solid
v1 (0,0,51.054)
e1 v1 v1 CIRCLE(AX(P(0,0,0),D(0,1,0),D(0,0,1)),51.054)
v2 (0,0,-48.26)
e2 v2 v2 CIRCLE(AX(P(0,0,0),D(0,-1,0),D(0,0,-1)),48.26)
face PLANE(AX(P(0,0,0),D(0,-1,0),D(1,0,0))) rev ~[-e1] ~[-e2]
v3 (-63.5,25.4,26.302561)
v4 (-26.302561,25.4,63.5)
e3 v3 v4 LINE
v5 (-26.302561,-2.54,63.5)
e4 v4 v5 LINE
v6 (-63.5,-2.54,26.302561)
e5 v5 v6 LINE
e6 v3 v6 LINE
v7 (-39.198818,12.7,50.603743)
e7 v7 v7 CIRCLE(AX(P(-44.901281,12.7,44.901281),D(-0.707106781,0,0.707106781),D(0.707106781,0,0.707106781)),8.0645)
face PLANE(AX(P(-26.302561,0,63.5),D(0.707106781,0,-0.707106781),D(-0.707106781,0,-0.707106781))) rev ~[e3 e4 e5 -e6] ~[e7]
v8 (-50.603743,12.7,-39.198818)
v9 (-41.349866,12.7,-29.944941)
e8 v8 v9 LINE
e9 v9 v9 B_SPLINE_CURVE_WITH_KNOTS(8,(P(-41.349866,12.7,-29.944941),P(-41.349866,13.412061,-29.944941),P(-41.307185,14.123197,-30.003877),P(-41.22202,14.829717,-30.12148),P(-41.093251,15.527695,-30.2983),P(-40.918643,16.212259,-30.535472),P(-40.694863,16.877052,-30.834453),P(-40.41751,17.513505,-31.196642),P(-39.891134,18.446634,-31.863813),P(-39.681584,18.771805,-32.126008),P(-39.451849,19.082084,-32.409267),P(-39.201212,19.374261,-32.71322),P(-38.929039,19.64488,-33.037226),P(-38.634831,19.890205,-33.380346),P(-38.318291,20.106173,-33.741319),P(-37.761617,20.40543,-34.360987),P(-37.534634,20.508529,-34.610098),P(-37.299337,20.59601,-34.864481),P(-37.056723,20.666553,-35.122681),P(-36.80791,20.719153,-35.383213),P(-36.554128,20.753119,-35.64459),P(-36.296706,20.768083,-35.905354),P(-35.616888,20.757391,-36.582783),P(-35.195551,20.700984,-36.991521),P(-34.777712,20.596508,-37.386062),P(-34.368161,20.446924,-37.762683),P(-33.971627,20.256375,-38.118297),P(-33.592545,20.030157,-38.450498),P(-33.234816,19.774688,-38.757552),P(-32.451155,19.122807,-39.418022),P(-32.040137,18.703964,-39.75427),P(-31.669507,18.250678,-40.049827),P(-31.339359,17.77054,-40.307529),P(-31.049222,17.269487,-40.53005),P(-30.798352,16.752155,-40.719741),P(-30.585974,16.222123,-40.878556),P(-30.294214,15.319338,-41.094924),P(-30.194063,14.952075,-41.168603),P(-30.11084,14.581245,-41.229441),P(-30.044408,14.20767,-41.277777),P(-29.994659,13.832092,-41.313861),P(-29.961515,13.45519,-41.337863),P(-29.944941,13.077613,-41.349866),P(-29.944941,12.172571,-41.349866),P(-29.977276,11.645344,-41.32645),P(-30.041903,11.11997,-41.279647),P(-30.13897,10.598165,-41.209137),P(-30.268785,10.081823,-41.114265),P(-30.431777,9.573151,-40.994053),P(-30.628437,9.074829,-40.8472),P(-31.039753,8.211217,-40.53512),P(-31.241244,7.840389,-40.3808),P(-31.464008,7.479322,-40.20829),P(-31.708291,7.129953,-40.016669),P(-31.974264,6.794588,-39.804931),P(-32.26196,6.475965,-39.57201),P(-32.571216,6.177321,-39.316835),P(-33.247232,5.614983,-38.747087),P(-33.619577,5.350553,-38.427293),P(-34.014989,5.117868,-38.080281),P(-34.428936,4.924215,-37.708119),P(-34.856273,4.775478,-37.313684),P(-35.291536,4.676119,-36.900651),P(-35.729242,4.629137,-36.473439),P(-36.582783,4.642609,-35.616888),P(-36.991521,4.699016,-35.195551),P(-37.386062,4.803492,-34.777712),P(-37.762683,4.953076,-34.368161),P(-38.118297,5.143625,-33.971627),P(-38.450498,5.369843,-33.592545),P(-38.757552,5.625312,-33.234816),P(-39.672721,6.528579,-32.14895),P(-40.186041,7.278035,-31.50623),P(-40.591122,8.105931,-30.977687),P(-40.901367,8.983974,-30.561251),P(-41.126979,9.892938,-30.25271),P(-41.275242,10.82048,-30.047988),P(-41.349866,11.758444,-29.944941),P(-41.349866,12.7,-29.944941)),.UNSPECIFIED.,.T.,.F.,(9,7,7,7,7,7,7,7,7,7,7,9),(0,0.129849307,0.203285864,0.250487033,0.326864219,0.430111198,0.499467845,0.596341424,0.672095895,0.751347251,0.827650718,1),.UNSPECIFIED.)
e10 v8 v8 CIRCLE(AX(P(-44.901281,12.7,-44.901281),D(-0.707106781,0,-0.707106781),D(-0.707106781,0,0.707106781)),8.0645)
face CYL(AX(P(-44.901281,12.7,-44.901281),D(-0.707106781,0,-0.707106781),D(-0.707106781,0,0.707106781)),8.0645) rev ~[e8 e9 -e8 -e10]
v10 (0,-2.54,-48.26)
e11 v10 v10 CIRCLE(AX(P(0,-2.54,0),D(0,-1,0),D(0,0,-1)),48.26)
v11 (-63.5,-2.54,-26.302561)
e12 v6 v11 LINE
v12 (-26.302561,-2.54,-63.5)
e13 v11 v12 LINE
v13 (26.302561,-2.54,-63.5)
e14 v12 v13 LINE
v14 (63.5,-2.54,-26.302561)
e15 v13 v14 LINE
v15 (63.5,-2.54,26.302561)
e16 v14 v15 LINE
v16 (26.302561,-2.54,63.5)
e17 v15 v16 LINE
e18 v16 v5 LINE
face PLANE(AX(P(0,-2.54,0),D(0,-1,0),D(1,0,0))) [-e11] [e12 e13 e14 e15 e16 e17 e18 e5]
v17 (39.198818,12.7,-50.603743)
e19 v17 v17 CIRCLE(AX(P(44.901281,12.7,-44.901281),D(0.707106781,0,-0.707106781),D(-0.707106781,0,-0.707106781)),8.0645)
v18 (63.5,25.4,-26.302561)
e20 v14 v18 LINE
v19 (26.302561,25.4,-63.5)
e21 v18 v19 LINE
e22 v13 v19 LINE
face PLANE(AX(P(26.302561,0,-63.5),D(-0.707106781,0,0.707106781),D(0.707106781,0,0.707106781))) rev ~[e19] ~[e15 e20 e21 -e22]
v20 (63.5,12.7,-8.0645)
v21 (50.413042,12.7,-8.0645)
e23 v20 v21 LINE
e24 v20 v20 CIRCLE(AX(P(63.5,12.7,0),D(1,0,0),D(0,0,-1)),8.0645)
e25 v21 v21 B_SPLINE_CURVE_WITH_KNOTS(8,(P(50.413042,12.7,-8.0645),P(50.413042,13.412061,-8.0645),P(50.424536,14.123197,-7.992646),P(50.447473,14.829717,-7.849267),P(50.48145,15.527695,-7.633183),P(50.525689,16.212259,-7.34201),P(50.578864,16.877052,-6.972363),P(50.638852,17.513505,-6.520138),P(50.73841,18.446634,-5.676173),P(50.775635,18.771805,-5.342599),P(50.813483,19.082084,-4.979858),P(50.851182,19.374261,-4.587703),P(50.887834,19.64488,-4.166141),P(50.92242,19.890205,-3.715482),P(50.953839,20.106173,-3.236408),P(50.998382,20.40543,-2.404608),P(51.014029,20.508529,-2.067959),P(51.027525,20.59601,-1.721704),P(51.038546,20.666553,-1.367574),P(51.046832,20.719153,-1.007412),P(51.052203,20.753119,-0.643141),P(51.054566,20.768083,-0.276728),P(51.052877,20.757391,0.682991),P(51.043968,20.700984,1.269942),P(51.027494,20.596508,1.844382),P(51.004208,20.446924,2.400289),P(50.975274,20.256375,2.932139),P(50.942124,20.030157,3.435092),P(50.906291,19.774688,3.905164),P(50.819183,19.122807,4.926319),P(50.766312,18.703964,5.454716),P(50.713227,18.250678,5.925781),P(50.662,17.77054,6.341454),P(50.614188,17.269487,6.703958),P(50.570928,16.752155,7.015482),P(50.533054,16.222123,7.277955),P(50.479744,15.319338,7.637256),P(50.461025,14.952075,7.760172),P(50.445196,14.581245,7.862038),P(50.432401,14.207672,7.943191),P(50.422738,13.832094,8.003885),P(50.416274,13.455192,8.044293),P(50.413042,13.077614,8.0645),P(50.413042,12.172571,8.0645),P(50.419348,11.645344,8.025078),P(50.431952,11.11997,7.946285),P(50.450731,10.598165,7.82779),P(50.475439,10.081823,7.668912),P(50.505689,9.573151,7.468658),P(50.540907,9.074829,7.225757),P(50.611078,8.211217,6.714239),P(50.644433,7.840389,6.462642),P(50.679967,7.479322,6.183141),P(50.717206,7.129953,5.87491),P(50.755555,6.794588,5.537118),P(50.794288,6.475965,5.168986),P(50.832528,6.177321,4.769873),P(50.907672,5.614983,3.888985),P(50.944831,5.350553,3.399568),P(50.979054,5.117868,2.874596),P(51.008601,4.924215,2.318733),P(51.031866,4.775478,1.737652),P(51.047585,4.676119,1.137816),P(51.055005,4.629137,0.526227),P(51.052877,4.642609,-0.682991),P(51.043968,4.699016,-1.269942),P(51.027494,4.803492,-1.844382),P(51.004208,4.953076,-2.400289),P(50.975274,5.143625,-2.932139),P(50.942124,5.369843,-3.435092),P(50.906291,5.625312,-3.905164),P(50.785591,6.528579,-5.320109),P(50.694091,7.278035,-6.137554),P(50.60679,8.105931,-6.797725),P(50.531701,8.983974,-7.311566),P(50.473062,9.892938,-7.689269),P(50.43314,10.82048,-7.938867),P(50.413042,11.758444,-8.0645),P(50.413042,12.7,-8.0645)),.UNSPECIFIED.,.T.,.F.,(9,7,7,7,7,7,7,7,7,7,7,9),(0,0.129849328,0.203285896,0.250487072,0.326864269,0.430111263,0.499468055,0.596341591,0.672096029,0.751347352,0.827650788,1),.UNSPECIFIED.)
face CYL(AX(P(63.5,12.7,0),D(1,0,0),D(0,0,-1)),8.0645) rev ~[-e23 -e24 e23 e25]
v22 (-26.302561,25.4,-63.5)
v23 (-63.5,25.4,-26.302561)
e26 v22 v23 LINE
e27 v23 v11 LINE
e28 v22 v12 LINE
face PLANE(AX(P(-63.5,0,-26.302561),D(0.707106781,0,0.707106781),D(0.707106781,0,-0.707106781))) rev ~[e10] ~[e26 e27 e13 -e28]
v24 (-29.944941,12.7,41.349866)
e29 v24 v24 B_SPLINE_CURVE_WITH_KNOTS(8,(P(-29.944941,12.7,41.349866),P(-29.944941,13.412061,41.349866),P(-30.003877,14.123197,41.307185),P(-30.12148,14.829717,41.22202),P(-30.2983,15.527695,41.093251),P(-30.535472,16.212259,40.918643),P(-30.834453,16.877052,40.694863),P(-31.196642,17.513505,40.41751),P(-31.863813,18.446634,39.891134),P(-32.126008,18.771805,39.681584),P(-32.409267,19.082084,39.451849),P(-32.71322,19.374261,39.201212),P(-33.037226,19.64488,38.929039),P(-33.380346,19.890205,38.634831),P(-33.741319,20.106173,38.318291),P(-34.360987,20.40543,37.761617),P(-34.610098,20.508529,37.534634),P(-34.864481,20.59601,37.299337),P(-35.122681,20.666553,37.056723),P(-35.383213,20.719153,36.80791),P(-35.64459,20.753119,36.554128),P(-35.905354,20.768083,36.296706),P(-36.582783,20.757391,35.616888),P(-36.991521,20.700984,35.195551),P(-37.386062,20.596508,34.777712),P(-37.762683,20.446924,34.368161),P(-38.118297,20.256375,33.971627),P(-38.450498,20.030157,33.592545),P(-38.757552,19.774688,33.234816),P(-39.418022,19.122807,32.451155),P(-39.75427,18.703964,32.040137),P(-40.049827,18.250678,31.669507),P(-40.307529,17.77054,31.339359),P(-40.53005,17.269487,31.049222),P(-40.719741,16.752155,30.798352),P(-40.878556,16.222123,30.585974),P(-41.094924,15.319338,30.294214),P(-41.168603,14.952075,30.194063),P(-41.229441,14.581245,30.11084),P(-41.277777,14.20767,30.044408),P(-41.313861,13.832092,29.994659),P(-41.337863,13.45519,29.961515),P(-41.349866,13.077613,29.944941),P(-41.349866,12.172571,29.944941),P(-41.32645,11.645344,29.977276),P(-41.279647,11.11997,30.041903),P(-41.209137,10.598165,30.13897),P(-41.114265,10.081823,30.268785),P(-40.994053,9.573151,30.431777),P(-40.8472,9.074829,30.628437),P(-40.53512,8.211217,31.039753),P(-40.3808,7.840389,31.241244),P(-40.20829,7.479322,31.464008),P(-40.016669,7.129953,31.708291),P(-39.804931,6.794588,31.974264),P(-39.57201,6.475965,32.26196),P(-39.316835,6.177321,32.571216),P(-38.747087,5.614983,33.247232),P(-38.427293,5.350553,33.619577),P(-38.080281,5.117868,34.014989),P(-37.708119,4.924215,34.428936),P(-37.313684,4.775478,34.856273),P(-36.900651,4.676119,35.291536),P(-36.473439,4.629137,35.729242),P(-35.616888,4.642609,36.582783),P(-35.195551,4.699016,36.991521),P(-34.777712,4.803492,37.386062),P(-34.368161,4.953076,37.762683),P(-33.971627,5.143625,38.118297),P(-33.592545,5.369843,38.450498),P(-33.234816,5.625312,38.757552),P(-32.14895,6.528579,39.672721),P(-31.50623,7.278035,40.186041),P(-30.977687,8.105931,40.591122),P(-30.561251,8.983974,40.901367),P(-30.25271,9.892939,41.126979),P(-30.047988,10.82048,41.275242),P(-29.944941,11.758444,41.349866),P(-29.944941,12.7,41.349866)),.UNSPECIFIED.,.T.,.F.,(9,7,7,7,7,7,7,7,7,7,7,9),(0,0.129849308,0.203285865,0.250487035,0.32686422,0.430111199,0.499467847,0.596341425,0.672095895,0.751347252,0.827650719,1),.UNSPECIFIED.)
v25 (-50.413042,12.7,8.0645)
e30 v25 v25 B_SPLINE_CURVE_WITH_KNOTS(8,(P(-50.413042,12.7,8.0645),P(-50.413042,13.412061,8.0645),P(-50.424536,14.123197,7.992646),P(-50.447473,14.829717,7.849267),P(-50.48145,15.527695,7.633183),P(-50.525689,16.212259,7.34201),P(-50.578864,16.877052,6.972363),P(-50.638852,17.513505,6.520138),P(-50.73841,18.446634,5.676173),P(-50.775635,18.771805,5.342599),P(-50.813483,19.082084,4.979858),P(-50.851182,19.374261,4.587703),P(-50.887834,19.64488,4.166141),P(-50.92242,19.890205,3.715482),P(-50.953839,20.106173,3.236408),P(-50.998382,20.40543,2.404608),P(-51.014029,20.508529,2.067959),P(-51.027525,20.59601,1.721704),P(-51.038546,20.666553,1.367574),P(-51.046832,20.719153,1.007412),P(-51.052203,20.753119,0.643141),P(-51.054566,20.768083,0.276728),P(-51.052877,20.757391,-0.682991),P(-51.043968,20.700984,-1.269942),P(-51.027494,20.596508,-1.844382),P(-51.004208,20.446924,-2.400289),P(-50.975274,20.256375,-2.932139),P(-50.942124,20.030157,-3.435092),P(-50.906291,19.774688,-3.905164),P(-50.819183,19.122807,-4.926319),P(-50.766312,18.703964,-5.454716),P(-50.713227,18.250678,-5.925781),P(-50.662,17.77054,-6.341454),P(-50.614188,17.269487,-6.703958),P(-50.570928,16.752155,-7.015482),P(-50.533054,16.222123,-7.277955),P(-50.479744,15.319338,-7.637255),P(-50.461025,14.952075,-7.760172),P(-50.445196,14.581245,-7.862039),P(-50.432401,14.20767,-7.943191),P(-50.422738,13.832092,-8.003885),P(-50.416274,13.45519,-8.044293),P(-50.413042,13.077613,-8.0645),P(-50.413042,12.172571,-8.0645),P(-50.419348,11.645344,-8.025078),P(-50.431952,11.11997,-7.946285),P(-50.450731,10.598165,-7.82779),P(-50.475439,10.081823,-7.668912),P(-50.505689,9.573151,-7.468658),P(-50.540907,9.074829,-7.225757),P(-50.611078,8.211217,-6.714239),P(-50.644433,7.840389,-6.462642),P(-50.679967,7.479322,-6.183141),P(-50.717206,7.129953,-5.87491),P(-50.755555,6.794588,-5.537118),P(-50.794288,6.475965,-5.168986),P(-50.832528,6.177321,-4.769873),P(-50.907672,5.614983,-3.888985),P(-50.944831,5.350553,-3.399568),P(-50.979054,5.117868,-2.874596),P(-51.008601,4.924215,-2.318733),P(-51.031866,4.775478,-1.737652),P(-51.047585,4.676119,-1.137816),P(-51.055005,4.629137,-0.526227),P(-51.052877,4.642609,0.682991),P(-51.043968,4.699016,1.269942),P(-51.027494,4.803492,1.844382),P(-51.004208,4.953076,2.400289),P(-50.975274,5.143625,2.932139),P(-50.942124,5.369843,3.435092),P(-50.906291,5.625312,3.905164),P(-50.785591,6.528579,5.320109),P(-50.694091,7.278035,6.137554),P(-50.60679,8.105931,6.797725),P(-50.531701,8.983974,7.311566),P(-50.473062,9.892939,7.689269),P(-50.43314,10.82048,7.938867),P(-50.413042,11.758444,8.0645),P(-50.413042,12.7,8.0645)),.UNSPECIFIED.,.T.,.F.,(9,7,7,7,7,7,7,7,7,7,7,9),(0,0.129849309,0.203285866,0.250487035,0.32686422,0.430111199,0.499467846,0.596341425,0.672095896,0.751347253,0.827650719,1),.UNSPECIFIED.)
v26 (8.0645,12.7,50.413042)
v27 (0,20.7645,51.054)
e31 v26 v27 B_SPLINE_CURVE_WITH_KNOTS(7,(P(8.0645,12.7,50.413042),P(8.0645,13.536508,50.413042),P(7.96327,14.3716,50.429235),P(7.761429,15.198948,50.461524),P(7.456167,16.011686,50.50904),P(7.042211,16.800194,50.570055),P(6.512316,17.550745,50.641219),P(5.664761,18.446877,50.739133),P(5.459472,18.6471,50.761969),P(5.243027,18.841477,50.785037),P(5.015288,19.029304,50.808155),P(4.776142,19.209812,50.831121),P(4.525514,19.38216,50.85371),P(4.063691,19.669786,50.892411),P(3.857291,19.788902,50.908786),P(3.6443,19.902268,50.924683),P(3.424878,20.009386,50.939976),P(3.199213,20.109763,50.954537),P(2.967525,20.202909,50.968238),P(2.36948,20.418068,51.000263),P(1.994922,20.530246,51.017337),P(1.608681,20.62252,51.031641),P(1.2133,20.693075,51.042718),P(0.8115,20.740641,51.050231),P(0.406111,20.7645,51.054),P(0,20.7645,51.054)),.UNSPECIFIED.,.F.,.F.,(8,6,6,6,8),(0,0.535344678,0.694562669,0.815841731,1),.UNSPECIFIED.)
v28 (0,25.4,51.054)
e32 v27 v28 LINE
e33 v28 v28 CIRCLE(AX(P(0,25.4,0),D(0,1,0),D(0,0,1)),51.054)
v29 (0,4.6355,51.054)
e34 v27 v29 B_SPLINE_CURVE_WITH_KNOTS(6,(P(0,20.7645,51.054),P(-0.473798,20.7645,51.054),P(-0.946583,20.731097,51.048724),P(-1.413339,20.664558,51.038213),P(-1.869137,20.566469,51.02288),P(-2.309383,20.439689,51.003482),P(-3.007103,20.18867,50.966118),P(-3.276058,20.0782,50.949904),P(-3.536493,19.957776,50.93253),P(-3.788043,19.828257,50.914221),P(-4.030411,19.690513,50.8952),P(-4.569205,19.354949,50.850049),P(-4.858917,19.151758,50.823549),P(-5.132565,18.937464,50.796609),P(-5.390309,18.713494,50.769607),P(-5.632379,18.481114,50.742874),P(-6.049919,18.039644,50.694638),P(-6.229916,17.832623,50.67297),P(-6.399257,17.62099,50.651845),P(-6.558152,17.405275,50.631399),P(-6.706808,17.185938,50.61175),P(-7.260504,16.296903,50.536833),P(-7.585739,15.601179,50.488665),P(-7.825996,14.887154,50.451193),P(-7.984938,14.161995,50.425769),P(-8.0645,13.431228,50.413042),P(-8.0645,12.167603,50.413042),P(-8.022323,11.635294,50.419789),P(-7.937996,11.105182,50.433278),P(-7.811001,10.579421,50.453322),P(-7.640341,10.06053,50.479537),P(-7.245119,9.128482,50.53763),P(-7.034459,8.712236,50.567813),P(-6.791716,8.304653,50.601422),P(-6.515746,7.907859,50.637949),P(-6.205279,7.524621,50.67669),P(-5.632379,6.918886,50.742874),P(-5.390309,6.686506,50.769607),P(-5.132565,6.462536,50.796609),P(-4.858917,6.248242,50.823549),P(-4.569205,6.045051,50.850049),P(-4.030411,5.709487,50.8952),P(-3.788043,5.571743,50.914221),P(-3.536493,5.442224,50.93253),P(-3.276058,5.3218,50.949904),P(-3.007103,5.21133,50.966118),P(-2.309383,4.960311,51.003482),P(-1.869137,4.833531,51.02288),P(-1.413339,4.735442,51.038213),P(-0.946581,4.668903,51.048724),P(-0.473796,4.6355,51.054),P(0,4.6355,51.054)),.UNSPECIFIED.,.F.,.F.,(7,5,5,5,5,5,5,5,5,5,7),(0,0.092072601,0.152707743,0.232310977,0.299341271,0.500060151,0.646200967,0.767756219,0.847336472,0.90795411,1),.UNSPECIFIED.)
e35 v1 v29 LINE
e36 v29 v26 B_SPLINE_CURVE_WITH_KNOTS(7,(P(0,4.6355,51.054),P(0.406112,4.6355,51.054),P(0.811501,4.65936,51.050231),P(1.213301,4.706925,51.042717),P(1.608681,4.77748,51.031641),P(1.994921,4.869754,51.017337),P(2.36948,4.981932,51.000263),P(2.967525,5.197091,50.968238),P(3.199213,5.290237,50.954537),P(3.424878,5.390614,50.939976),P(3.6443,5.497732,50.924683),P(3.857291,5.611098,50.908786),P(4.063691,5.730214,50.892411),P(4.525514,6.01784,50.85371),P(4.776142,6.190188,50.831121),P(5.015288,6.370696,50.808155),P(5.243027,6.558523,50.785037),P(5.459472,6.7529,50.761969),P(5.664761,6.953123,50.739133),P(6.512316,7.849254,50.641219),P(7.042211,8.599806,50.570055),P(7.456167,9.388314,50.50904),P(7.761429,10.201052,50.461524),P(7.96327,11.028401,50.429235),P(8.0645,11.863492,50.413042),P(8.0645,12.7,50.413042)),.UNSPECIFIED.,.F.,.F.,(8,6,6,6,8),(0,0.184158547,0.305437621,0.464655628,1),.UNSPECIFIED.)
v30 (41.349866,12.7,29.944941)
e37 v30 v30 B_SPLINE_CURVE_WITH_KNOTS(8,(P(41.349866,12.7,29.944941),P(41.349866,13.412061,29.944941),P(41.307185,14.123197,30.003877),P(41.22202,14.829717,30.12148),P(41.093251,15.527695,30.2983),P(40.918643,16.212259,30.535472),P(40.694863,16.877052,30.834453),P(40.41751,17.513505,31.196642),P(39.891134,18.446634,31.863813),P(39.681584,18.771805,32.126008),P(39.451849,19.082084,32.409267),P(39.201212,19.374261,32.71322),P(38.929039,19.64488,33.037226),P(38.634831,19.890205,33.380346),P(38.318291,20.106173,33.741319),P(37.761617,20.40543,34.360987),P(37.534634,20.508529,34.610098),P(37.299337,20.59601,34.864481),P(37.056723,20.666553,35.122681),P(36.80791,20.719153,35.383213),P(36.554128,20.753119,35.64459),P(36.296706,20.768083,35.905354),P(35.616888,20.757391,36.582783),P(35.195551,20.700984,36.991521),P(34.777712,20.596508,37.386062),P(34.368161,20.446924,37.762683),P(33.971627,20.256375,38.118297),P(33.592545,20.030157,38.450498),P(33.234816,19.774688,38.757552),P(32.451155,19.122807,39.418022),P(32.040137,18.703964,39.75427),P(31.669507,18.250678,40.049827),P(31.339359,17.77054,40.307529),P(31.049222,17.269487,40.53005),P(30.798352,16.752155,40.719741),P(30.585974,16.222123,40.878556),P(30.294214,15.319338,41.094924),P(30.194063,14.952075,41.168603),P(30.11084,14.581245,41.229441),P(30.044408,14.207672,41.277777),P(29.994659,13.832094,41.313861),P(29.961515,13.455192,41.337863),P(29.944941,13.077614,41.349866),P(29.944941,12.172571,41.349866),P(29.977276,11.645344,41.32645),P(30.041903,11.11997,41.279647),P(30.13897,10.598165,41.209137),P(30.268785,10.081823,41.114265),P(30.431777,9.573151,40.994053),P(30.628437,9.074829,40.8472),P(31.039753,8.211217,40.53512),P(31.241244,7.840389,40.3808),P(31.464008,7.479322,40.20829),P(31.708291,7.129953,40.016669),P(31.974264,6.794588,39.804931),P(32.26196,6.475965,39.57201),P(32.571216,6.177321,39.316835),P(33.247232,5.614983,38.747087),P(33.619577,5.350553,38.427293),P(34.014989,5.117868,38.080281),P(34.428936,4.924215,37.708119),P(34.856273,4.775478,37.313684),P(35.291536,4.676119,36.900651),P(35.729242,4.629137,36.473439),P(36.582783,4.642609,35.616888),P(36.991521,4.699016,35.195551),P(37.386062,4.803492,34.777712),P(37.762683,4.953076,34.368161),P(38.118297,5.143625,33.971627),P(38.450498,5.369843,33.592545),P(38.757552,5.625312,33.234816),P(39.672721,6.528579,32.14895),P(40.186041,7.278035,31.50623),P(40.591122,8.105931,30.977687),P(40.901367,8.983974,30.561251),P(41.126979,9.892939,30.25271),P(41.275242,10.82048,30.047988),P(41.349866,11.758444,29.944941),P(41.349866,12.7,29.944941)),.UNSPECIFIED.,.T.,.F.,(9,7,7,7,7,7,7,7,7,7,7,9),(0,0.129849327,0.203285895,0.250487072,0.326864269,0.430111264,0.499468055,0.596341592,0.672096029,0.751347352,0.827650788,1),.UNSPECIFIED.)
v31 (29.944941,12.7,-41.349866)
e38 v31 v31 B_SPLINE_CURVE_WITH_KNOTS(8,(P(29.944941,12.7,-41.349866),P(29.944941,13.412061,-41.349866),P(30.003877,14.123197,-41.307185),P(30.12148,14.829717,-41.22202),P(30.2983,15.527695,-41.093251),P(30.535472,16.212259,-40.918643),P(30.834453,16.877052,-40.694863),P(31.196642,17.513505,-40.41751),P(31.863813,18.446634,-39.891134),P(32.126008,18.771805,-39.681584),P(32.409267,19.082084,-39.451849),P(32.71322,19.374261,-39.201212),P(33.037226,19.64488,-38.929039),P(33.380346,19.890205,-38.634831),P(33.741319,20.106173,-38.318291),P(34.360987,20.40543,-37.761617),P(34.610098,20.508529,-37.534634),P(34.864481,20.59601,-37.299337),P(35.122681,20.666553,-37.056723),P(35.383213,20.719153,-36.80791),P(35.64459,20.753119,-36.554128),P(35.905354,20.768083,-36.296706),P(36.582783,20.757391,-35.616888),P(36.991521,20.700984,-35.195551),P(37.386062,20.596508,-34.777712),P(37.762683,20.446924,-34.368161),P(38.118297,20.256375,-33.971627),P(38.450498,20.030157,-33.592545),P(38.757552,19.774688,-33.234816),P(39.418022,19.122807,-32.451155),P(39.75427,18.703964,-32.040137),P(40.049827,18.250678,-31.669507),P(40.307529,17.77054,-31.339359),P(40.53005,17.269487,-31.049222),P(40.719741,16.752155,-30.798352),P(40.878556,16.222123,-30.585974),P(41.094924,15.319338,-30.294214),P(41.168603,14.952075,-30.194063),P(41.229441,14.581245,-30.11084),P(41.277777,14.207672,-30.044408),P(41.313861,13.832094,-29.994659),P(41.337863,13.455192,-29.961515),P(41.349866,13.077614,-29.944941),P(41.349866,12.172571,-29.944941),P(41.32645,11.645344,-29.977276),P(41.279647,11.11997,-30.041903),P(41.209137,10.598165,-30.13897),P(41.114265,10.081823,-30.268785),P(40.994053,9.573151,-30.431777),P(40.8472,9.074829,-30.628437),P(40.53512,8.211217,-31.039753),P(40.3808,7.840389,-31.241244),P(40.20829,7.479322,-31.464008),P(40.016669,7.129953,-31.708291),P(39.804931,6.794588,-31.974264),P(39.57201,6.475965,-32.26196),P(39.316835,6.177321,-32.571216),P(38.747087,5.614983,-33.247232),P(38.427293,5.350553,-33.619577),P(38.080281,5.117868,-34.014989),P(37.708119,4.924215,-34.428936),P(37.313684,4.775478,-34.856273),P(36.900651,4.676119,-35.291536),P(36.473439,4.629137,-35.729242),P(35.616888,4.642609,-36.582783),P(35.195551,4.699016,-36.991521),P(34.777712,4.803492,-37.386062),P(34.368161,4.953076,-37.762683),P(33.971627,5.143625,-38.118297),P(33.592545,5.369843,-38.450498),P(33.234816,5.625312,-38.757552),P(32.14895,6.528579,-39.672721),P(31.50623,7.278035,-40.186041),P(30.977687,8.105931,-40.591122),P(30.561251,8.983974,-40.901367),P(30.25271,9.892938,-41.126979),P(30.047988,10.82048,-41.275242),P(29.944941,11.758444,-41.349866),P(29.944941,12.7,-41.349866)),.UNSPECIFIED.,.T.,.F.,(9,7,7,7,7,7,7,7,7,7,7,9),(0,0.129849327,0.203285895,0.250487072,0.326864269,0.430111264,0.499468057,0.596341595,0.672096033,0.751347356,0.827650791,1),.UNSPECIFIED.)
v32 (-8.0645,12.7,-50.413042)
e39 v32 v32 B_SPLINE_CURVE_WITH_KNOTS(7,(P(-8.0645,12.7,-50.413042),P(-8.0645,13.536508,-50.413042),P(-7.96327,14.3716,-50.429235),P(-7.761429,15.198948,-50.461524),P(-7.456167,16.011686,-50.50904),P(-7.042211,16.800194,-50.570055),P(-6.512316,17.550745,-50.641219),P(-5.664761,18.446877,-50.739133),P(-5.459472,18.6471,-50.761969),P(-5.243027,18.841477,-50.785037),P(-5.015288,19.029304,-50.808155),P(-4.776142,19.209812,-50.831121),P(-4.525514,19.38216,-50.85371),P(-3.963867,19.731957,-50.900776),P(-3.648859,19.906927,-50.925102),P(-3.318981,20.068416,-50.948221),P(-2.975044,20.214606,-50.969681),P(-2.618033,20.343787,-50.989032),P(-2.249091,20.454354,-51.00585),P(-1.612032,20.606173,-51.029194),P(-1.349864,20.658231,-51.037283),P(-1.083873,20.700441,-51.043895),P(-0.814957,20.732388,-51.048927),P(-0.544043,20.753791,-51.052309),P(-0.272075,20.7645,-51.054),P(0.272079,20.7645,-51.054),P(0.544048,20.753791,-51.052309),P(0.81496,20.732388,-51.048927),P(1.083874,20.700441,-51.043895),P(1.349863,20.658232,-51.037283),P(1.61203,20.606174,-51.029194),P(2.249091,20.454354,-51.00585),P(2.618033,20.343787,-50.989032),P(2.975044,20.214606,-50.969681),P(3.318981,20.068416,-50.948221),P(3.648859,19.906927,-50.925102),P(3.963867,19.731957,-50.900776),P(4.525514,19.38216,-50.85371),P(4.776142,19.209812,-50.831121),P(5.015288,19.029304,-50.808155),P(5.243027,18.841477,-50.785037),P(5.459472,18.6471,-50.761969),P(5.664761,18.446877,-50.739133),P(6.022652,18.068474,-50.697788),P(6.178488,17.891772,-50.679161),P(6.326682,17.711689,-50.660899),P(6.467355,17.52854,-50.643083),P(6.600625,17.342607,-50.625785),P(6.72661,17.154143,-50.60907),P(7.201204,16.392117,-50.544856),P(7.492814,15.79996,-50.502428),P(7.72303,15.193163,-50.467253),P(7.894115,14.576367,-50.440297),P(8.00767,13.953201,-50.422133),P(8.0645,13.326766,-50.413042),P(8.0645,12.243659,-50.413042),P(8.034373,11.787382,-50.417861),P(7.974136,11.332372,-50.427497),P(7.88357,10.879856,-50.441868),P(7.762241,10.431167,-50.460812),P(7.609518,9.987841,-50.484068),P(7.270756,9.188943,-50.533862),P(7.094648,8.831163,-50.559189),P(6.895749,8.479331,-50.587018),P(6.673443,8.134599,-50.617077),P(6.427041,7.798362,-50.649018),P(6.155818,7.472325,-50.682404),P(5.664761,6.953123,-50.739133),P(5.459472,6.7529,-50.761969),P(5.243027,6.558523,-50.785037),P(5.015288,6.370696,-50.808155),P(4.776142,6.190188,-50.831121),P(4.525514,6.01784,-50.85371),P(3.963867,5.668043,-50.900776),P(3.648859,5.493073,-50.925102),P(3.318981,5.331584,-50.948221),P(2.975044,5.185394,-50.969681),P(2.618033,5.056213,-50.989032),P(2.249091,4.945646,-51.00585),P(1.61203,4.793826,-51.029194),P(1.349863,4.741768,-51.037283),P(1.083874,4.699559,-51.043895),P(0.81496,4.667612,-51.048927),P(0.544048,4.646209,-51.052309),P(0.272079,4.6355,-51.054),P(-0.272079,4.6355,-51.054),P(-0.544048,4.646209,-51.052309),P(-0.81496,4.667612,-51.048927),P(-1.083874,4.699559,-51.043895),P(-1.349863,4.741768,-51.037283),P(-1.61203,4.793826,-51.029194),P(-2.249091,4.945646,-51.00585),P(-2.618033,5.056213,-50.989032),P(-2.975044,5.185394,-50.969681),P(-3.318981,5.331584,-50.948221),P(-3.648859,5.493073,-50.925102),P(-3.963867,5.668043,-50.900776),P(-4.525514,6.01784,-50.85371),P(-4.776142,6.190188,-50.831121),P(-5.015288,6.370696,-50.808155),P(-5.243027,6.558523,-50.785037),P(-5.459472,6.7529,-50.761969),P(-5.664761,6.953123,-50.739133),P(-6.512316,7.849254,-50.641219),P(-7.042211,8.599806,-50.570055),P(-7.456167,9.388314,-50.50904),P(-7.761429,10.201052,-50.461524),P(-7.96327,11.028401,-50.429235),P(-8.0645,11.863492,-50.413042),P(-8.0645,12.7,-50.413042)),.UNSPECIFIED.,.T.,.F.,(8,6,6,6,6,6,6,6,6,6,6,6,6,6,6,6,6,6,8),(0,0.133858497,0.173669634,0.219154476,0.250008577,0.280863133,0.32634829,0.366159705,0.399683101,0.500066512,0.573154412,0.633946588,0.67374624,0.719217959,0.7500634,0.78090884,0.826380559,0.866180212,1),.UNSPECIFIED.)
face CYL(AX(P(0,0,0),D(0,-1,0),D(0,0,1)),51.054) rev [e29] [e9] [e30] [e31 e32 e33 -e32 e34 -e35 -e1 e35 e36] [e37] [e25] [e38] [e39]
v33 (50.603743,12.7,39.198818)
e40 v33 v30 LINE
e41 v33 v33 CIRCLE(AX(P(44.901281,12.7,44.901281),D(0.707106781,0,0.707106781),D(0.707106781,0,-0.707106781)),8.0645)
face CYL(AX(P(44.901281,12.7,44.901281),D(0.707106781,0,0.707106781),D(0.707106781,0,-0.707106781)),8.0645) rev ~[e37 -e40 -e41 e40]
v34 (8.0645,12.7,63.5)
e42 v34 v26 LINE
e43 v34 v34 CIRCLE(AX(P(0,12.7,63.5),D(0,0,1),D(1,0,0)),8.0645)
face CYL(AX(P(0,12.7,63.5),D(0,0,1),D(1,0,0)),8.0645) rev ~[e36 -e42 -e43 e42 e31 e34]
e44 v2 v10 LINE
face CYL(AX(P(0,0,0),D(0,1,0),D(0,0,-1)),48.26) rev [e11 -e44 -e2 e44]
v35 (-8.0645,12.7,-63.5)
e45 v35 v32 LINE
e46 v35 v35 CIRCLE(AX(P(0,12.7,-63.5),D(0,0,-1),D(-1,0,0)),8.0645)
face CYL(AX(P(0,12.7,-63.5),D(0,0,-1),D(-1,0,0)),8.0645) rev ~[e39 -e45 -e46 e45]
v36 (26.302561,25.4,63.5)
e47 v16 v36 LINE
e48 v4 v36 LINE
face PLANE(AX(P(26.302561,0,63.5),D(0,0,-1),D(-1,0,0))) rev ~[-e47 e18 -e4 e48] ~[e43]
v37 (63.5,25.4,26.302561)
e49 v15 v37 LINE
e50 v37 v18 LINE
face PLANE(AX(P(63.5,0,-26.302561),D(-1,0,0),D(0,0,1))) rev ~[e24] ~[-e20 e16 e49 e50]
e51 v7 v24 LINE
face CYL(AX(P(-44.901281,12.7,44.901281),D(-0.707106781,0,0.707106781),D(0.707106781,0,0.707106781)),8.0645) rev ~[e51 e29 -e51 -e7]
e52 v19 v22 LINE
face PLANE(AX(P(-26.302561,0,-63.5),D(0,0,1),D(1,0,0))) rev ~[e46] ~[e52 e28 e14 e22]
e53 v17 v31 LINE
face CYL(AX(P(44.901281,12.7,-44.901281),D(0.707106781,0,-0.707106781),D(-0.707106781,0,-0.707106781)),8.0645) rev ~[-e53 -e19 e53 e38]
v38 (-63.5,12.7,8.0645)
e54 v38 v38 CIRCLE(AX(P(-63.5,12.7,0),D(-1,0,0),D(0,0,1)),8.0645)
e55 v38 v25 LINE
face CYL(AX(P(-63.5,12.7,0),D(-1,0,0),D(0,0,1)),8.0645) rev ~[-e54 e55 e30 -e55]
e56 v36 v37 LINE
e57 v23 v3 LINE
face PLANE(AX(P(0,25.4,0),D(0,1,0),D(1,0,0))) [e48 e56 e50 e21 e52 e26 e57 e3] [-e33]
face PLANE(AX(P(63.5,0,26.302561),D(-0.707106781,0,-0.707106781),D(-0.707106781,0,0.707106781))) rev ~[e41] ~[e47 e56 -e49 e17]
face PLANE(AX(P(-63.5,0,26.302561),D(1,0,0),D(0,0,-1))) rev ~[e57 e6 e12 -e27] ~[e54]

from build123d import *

# Parameters (mm, degrees)
SKETCH1_R           = 51.054
BOSS_EXTRUDE1_DEPTH = 25.4
SKETCH2_R           = 8.0645
CUT_EXTRUDE1_DEPTH  = 31.75
CIRPATTERN1_COUNT   = 8
SKETCH3_R           = 48.26
BOSS_EXTRUDE2_DEPTH = 2.54


with BuildPart() as part:
    # Sketch1 → Boss-Extrude1 (new body)
    with BuildSketch(Plane(origin=(0, 0, 0), x_dir=(1, 0, 0), z_dir=(0, 1, 0))):
        Polygon((63.5, 26.302561211), (26.302561211, 63.5), (-26.302561211, 63.5), (-63.5, 26.302561211), (-63.5, -26.302561211), (-26.302561211, -63.5), (26.302561211, -63.5), (63.5, -26.302561211), align=None)
        with Locations(Location((0, 0, 0), (0, 0, 270))):
            Circle(SKETCH1_R, mode=Mode.SUBTRACT)
    extrude(amount=BOSS_EXTRUDE1_DEPTH)

    # Sketch2 → Cut-Extrude1 (cut)
    with BuildSketch(Plane(origin=(63.5, 0, 0), x_dir=(0, 0, -1), z_dir=(1, 0, 0))):
        with Locations((0, 12.7)):
            Circle(SKETCH2_R)
    cut_extrude1 = extrude(amount=-CUT_EXTRUDE1_DEPTH, mode=Mode.SUBTRACT)

    # CirPattern1: Cut-Extrude1 ×8 about axis
    cirpattern1_axis = Axis((0, 25.4, 0), (0, -1, 0))
    for i in range(1, CIRPATTERN1_COUNT):
        add(cut_extrude1.rotate(cirpattern1_axis, i * 360 / CIRPATTERN1_COUNT), mode=Mode.SUBTRACT)

    # Sketch3 → Boss-Extrude2 (add)
    with BuildSketch(Plane.XZ):
        Polygon((26.302561211, 63.5), (-26.302561211, 63.5), (-63.5, 26.302561211), (-63.5, -26.302561211), (-26.302561211, -63.5), (26.302561211, -63.5), (63.5, -26.302561211), (63.5, 26.302561211), align=None)
        with Locations(Location((0, 0, 0), (0, 0, 270))):
            Circle(SKETCH3_R, mode=Mode.SUBTRACT)
    extrude(amount=BOSS_EXTRUDE2_DEPTH)


solid = part.part
